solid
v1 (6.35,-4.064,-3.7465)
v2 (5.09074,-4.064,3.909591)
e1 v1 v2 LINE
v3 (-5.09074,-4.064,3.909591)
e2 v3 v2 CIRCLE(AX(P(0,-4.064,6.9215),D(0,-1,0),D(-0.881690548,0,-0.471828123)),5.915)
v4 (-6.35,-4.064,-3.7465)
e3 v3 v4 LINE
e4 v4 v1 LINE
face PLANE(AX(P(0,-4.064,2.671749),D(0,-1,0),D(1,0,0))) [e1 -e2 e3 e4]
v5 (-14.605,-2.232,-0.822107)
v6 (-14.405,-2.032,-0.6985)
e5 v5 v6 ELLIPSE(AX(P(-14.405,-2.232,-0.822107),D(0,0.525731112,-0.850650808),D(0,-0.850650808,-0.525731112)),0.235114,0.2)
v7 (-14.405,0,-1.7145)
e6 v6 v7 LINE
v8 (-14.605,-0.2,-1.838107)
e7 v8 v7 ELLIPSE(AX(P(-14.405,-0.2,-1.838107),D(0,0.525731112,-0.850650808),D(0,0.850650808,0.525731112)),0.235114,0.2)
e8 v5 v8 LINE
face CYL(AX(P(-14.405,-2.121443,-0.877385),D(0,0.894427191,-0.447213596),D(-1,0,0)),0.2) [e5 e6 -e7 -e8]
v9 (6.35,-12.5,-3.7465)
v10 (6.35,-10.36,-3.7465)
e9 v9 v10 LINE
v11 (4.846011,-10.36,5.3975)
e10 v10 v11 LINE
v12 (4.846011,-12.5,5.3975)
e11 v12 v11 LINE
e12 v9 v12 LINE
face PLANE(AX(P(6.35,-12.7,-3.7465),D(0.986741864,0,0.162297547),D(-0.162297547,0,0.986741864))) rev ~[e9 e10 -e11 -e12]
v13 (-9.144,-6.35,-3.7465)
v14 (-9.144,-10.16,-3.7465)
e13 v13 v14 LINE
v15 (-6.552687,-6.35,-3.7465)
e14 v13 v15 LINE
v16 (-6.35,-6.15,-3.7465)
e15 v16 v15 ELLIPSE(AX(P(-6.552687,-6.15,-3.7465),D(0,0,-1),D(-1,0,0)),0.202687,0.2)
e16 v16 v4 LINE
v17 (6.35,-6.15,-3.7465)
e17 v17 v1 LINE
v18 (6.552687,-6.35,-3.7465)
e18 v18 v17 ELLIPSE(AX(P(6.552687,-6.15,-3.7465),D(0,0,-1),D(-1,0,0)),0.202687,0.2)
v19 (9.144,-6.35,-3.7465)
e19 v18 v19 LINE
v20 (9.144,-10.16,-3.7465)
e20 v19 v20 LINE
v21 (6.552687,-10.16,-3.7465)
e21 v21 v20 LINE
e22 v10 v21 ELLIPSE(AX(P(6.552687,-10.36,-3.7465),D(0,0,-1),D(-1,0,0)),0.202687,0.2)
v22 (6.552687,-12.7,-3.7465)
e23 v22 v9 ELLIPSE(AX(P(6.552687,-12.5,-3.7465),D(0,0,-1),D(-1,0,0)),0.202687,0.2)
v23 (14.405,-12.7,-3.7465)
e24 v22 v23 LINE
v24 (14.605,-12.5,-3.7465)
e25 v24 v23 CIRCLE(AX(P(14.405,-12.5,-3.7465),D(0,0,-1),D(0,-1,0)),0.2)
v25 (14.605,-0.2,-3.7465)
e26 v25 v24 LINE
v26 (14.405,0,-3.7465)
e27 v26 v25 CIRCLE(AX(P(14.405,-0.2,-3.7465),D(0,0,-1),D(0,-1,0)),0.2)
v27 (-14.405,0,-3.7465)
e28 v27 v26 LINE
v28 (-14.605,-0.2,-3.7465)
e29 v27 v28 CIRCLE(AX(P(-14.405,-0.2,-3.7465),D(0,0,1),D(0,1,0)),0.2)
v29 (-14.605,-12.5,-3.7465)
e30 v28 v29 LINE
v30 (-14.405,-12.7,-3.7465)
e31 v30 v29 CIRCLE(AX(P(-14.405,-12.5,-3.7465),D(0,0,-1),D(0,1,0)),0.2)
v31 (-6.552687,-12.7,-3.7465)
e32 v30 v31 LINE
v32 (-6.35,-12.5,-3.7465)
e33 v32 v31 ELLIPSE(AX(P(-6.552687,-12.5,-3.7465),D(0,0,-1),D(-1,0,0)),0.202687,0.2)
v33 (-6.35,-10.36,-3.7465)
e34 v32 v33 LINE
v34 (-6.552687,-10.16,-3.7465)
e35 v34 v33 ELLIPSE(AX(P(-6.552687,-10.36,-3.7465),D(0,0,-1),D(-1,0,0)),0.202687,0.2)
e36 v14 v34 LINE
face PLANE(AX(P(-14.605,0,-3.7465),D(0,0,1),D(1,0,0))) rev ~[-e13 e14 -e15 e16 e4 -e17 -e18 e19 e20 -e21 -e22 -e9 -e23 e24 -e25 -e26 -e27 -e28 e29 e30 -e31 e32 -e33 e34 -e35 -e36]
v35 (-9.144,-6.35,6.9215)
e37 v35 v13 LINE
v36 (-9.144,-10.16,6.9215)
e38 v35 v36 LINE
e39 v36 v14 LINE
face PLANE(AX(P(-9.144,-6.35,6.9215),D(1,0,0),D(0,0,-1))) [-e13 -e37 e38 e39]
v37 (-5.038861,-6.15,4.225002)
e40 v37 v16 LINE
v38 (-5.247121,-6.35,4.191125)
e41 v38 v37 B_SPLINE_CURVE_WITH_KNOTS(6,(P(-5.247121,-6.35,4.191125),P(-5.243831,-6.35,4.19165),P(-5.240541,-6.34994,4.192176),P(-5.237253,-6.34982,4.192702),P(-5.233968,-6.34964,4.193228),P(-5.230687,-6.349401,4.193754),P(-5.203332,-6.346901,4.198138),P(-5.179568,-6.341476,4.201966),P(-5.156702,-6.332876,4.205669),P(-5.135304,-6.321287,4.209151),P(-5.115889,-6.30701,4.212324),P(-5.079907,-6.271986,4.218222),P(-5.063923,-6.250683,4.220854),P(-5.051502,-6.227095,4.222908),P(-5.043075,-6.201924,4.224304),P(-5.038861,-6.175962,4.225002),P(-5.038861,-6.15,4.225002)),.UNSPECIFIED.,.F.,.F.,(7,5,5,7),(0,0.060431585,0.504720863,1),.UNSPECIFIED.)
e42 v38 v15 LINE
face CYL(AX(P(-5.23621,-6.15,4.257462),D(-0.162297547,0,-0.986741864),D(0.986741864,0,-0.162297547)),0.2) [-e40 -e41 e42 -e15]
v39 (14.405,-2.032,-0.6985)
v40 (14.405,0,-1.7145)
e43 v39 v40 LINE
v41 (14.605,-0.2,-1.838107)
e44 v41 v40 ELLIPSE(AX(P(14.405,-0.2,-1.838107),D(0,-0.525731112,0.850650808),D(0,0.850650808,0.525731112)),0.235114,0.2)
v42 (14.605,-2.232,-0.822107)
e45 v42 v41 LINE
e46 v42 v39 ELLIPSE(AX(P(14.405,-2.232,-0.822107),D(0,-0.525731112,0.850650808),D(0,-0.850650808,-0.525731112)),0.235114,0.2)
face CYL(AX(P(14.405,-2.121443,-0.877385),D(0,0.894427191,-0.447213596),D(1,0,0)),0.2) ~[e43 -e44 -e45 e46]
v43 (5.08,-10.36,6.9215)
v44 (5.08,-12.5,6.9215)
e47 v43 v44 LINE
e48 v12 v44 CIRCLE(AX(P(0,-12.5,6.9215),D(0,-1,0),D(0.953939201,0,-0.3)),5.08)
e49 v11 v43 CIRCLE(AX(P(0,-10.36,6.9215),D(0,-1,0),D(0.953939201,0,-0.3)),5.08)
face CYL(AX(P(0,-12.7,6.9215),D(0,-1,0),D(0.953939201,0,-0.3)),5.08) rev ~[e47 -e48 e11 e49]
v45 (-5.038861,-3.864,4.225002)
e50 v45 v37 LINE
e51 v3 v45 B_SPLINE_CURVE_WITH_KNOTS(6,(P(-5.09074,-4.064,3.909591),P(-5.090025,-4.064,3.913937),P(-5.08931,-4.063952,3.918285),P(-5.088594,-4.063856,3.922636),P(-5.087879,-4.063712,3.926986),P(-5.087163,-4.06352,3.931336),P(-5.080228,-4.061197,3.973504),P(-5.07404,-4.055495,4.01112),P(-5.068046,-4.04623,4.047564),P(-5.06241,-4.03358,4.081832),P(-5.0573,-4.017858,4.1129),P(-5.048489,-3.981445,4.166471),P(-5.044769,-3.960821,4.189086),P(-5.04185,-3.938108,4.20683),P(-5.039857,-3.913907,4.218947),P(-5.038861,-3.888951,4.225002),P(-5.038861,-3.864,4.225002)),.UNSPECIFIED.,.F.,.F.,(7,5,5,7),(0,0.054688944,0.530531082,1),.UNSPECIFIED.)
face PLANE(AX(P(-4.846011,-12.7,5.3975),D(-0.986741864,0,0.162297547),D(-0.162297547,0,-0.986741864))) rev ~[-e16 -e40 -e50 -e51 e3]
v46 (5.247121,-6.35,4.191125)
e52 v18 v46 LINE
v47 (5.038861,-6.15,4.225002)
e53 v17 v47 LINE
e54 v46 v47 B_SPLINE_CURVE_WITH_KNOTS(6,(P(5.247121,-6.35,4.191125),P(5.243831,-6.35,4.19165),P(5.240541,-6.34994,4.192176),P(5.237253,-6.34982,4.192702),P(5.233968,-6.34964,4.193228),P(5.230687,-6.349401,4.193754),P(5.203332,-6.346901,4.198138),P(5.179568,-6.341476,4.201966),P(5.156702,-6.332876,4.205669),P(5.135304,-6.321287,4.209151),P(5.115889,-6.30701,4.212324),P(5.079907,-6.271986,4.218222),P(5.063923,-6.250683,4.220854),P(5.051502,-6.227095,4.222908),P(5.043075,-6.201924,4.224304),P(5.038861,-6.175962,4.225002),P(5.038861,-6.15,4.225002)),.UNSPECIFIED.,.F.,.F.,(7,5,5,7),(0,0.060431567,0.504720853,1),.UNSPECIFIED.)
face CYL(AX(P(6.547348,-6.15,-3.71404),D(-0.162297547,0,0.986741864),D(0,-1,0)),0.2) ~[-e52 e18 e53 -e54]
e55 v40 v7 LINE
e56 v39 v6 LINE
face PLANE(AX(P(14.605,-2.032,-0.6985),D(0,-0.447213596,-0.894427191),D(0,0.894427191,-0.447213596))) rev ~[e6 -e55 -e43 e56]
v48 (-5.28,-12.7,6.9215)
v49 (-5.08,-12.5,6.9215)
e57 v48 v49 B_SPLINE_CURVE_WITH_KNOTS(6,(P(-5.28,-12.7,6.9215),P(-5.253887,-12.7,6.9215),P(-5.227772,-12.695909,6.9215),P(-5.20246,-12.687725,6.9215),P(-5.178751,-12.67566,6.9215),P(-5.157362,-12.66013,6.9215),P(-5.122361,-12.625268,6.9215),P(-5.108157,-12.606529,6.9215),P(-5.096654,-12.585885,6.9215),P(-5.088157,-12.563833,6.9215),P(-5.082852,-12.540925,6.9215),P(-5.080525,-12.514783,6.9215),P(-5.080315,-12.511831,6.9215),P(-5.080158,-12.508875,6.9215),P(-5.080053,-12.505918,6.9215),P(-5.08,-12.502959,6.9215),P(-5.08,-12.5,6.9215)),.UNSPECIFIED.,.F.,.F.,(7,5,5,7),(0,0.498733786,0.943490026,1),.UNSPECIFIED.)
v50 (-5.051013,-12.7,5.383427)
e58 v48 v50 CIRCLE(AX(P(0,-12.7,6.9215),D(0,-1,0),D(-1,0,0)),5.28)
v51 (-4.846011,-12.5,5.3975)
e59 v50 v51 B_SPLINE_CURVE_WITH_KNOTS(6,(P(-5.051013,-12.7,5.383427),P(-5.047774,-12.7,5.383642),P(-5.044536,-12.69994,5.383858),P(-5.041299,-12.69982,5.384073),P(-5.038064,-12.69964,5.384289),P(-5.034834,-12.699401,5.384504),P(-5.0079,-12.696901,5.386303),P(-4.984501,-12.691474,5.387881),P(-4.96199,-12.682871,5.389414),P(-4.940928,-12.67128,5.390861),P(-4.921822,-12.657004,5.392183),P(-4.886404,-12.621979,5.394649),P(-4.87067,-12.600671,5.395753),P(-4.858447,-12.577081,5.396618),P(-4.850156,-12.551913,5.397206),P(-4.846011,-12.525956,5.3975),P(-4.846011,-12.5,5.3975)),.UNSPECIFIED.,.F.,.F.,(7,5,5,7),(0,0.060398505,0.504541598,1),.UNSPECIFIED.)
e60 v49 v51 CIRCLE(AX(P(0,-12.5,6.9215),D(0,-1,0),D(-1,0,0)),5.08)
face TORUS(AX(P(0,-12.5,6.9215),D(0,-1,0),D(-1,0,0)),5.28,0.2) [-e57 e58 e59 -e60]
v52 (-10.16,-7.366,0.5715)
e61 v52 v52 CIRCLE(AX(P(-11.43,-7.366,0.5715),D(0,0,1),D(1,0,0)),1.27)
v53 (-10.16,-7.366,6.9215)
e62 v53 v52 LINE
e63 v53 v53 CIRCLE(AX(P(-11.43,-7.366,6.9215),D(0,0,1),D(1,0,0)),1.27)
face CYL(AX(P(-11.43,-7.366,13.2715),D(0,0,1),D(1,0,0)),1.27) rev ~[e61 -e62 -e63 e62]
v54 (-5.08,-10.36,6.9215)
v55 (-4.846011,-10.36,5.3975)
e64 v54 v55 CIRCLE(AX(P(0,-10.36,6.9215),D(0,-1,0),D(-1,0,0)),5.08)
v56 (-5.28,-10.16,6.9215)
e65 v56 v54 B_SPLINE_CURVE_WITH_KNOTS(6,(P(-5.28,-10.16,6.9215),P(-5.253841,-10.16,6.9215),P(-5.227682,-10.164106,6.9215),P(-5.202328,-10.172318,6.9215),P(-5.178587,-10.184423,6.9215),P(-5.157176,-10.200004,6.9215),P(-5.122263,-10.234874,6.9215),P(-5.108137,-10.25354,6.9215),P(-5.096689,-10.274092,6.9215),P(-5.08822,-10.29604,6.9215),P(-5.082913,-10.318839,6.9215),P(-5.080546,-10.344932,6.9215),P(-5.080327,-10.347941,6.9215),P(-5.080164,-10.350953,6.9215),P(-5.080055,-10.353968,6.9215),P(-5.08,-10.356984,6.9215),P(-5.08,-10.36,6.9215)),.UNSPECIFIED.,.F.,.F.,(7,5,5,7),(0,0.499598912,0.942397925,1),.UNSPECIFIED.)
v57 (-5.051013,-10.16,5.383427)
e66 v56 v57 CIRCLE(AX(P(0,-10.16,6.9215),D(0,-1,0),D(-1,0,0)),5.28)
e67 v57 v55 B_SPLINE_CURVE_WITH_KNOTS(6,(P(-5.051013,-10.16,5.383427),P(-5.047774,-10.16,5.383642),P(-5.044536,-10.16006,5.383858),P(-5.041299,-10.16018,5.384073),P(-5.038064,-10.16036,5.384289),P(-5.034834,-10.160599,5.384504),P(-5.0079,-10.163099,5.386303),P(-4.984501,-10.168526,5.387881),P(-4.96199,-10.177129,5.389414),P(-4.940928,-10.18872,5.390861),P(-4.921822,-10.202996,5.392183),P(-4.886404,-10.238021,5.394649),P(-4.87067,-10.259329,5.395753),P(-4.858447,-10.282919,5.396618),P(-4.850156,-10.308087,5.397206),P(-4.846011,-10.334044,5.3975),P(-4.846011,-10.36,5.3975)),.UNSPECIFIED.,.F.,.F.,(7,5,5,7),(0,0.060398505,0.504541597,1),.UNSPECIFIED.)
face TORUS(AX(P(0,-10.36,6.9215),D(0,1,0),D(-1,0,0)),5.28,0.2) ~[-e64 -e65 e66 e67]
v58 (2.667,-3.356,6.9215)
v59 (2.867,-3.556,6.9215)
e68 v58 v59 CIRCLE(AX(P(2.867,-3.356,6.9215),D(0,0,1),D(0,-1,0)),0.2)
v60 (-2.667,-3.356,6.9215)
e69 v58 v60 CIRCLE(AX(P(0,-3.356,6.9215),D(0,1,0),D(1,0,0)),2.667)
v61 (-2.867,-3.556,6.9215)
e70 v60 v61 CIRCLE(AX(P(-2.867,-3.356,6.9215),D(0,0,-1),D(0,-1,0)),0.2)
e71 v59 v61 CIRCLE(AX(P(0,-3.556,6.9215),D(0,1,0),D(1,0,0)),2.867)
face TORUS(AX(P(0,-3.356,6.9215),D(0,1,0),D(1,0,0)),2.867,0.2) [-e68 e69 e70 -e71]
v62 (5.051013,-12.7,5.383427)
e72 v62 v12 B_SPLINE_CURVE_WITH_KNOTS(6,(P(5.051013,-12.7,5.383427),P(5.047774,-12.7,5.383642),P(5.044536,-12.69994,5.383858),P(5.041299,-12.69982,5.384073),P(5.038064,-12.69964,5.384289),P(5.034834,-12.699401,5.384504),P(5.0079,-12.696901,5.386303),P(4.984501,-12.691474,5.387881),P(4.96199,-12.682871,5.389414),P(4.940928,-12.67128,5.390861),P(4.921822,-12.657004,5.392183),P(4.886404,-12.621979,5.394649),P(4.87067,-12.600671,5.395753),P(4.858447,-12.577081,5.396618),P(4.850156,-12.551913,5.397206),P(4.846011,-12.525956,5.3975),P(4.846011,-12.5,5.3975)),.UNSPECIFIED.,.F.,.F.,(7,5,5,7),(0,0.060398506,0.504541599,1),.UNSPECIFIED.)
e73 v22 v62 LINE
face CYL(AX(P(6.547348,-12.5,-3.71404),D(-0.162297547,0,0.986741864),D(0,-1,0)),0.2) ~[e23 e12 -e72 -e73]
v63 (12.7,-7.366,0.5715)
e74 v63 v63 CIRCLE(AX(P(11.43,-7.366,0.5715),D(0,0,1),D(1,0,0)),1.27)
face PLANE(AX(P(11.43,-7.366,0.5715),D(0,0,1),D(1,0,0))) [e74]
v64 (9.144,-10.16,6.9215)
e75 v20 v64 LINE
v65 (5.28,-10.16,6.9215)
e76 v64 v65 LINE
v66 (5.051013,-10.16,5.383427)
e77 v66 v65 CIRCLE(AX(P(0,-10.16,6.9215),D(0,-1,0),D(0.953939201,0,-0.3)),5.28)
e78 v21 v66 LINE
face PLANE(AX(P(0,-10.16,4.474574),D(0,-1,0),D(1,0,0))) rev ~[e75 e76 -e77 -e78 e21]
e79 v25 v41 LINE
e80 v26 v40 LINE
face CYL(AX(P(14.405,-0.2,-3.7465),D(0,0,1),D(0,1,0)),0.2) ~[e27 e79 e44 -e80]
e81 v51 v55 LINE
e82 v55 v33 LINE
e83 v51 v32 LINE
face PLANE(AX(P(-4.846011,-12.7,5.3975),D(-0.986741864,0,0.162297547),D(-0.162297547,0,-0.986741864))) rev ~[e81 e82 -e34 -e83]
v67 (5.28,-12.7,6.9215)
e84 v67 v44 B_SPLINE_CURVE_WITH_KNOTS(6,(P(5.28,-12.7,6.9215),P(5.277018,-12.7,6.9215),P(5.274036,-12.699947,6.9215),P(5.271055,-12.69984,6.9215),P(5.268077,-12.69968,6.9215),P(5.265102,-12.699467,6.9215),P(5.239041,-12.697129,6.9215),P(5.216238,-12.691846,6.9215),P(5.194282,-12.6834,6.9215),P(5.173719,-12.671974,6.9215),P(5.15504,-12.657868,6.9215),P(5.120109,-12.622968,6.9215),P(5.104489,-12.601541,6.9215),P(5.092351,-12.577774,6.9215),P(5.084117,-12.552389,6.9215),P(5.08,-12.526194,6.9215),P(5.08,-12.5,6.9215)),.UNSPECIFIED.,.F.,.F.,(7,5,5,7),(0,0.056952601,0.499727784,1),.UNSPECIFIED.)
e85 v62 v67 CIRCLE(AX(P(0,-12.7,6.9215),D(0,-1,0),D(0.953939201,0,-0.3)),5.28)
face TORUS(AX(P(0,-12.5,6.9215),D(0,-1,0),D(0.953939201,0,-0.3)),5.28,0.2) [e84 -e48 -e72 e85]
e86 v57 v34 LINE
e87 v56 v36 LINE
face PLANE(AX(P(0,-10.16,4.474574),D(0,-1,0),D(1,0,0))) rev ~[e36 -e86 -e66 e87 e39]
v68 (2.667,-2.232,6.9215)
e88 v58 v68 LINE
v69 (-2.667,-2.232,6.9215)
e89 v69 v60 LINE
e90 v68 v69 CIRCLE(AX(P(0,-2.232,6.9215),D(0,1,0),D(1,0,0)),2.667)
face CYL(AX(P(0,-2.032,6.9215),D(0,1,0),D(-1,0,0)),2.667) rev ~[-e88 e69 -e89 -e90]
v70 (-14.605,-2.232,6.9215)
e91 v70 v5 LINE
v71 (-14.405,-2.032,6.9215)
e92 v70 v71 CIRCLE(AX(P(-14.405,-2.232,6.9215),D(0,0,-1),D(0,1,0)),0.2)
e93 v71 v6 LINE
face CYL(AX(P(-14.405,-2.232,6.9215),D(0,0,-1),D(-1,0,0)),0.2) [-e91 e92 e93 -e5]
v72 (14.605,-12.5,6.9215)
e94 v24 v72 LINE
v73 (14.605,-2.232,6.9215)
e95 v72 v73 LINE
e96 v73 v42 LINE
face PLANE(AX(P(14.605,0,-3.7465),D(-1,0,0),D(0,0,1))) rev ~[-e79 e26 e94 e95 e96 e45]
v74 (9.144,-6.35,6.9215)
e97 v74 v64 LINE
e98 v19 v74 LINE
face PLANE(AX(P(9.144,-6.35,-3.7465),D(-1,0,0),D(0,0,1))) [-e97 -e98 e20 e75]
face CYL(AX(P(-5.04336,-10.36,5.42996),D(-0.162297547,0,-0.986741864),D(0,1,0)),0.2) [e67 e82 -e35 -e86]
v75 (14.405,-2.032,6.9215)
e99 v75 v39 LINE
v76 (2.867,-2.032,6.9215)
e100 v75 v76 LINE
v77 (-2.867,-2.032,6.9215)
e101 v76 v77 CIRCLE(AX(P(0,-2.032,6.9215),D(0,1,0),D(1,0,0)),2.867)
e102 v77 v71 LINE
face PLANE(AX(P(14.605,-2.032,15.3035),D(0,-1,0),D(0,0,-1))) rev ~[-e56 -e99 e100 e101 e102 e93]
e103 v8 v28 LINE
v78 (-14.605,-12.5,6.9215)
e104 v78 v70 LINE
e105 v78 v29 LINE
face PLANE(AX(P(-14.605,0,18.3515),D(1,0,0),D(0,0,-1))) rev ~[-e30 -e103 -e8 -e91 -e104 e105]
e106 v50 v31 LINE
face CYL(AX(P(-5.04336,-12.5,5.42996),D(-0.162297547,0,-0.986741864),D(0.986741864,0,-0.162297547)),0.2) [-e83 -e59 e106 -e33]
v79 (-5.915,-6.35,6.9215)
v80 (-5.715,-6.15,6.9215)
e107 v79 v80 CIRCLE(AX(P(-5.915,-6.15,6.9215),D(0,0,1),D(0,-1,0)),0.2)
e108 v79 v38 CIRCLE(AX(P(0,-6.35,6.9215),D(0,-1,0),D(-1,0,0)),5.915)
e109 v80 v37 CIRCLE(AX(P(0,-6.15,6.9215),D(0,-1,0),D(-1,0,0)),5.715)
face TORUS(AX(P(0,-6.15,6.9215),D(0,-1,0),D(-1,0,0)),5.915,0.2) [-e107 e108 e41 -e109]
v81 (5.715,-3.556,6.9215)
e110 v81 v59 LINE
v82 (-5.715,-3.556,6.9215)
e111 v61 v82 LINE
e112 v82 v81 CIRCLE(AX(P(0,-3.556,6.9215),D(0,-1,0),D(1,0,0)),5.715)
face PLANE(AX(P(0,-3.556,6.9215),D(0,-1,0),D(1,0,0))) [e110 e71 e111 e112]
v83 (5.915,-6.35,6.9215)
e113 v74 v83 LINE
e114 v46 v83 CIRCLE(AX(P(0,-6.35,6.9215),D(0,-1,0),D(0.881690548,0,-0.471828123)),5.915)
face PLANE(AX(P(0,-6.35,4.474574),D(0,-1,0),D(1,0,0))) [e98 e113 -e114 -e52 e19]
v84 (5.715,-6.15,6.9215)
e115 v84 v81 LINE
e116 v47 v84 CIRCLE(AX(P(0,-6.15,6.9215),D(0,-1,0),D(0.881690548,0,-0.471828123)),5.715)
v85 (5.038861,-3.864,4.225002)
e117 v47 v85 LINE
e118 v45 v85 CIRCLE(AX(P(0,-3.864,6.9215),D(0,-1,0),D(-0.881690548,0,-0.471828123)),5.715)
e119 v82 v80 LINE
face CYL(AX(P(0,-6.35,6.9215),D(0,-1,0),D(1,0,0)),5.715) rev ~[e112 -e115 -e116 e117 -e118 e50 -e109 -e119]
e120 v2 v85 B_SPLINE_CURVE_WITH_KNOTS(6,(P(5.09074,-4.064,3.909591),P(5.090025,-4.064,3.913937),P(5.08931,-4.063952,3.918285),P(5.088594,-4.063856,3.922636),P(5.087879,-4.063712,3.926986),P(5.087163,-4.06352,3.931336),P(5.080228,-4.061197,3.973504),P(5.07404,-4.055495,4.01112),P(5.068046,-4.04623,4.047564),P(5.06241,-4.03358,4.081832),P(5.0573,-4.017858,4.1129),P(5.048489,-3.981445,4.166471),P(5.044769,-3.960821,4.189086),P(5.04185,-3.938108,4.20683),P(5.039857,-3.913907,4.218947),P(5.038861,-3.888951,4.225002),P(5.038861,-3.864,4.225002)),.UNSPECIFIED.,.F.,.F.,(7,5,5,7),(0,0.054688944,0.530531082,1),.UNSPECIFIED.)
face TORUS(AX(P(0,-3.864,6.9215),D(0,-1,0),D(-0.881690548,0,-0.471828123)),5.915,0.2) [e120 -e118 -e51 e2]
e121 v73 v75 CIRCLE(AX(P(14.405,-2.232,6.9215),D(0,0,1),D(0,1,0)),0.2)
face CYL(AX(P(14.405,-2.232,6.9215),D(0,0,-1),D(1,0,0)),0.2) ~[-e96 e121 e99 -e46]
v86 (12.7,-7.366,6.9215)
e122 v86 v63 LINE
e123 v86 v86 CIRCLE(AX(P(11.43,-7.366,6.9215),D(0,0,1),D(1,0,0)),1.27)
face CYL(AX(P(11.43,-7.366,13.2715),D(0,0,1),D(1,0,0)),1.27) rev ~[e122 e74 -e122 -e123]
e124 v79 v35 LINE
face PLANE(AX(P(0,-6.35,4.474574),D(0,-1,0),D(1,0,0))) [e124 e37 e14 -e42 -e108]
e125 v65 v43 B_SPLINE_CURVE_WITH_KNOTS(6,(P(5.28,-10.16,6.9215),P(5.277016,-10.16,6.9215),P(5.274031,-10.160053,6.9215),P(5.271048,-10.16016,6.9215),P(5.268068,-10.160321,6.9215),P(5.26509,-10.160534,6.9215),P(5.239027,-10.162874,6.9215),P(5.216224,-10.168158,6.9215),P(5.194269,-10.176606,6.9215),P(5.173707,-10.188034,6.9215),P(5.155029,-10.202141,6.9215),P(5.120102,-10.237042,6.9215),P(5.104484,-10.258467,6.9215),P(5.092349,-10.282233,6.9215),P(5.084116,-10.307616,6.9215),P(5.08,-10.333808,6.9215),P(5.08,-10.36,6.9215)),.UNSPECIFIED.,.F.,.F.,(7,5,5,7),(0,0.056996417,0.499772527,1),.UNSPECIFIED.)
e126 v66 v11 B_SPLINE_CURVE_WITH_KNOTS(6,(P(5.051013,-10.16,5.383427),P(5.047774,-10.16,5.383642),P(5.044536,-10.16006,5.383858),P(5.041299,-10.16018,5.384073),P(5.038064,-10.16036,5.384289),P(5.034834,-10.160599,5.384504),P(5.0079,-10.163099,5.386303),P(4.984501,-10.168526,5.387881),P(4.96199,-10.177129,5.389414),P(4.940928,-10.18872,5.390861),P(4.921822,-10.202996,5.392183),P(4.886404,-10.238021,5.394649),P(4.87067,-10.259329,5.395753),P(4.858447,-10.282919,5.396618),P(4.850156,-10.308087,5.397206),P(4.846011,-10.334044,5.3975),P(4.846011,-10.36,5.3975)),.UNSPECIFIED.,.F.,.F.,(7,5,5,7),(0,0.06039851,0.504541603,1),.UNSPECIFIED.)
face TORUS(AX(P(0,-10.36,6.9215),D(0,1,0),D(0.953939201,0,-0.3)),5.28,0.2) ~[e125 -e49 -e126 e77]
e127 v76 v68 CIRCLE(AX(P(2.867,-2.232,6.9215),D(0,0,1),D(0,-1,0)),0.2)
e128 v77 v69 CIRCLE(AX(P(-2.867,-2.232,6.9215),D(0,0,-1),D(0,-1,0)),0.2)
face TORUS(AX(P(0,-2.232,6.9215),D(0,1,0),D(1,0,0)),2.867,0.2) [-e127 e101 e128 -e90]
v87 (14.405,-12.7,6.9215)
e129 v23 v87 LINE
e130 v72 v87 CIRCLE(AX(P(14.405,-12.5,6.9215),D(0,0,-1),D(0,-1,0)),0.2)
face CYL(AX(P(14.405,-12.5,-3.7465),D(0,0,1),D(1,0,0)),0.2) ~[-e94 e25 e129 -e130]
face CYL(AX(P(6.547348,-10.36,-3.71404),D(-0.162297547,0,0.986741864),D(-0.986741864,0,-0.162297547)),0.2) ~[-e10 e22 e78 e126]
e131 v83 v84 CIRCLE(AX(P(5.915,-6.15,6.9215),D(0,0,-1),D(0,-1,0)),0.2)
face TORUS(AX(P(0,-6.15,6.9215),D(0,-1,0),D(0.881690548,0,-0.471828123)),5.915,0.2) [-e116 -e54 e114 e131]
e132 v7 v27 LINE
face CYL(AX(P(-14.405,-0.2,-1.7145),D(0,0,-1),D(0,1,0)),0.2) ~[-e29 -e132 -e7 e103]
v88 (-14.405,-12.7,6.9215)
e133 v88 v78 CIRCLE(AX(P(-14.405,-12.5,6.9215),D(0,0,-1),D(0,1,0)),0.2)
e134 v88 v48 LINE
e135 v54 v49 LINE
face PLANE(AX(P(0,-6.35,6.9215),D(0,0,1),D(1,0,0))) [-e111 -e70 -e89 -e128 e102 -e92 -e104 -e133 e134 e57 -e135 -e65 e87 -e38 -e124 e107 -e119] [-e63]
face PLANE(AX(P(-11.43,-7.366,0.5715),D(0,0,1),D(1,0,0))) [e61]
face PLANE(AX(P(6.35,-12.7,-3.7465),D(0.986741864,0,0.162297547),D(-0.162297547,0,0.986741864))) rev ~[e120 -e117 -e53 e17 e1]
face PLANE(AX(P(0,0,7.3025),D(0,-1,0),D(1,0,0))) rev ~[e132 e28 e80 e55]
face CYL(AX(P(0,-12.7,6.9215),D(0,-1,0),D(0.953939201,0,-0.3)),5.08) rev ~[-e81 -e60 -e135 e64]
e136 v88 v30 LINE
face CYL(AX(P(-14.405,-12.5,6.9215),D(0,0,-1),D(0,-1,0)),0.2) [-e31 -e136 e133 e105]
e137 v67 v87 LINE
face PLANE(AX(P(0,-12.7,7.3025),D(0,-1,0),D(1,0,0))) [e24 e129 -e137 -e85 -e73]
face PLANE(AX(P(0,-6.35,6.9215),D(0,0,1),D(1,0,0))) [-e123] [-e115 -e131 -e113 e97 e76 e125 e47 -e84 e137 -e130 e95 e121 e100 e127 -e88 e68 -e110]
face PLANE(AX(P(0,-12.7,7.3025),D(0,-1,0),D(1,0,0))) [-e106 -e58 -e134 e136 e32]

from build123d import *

# Parameters (mm, degrees)
F1_DEPTH  = 12.7
F4_DEPTH  = 3.81
F6_DEPTH  = 8.636
F8_DEPTH  = 29.211
F9_R      = 2.667
F10_DEPTH = 4.318
F12_DEPTH = 5.08
F13_R     = 1.27
F14_DEPTH = 12.7
F15_R     = 5.715
F16_DEPTH = 2.794
F17_W     = 29.21
F17_H     = 12.7
F18_DEPTH = 11.43
F19_R     = 0.2


with BuildPart() as f1:
    # F0 (on Front) → F1 (new body)
    with BuildSketch(Plane.XZ):
        Polygon((-14.605, -3.7465), (14.605, -3.7465), (14.605, 3.7465), (14.605, 18.3515), (-14.605, 18.3515), (-14.605, 3.7465), align=None)
    extrude(amount=F1_DEPTH)

    # F3 (on offset) → F4 (cut)
    with BuildSketch(Plane.XZ.offset(6.35)):
        with BuildLine():
            Line((-9.144, -3.7465), (9.144, -3.7465))
            Line((9.144, -3.7465), (9.144, 6.9215))
            ThreePointArc((9.144, 6.9215), (0, 16.0655), (-9.144, 6.9215))
            Line((-9.144, 6.9215), (-9.144, -3.7465))
        make_face()
    extrude(amount=F4_DEPTH, mode=Mode.SUBTRACT)

    # F5 (on face) → F6 (cut)
    with BuildSketch(Plane.XZ.offset(12.7)):
        with BuildLine():
            Line((6.35, -3.7465), (4.8460111432, 5.3975))
            ThreePointArc((4.8460111432, 5.3975), (0, 12.0015), (-4.8460111432, 5.3975))
            Line((-4.8460111432, 5.3975), (-6.35, -3.7465))
            Line((-6.35, -3.7465), (6.35, -3.7465))
        make_face()
    extrude(amount=-F6_DEPTH, mode=Mode.SUBTRACT)

    # F7 (on face) → F8 (cut, through all)
    with BuildSketch(Plane.YZ.offset(14.605)):
        Polygon((-2.032, -0.6985), (0, -1.7145), (0, 16.3195), (-2.032, 15.3035), align=None)
    extrude(amount=-F8_DEPTH, mode=Mode.SUBTRACT)

    # F9 (on face) → F10 (cut, through all)
    with BuildSketch(Plane(origin=(0, -2.032, 0), x_dir=(-1, 0, 0), z_dir=(0, 1, 0))):
        with Locations((0, 6.9215)):
            Circle(F9_R)
    extrude(amount=-F10_DEPTH, mode=Mode.SUBTRACT)

    # F11 (on face) → F12 (cut)
    with BuildSketch(Plane.XY.offset(18.3515)):
        with BuildLine():
            Line((14.605, -4.191), (11.43, -4.191))
            ThreePointArc((11.43, -4.191), (8.255, -7.366), (11.43, -10.541))
            Line((11.43, -10.541), (14.605, -10.541))
            Line((14.605, -10.541), (14.605, -4.191))
        make_face()
        with BuildLine():
            ThreePointArc((-11.43, -10.541), (-8.255, -7.366), (-11.43, -4.191))
            Line((-11.43, -4.191), (-14.605, -4.191))
            Line((-14.605, -4.191), (-14.605, -10.541))
            Line((-14.605, -10.541), (-11.43, -10.541))
        make_face()
    extrude(amount=-F12_DEPTH, mode=Mode.SUBTRACT)

    # F13 (on face) → F14 (cut)
    with BuildSketch(Plane.XY.offset(13.2715)):
        with Locations((11.43, -7.366)):
            Circle(F13_R)
        with Locations((-11.43, -7.366)):
            Circle(F13_R)
    extrude(amount=-F14_DEPTH, mode=Mode.SUBTRACT)

    # F15 (on face) → F16 (cut)
    with BuildSketch(Plane.XZ.offset(6.35)):
        with Locations((0, 6.9215)):
            Circle(F15_R)
    extrude(amount=-F16_DEPTH, mode=Mode.SUBTRACT)

    # F17 (on face) → F18 (cut)
    with BuildSketch(Plane.XY.offset(18.3515)):
        with Locations((0, -6.35)):
            Rectangle(F17_W, F17_H)
    extrude(amount=-F18_DEPTH, mode=Mode.SUBTRACT)

    # F19
    f19_edges = [f1.edges().sort_by_distance(p)[0] for p in [
        (14.605, -12.7, 1.5875),
        (5.021162, -12.7, 6.150571),
        (5.598006, -12.7, 0.8255),
        (5.021162, -10.16, 6.150571),
        (5.598006, -10.16, 0.8255),
        (5.543389, -6.35, 5.531512),
        (5.694431, -6.35, 0.239251),
        (-5.021162, -12.7, 6.150571),
        (-5.021162, -10.16, 6.150571),
        (-5.598006, -10.16, 0.8255),
        (-5.598006, -12.7, 0.8255),
        (-5.543389, -6.35, 5.531512),
        (-5.694431, -6.35, 0.239251),
        (0, -4.064, 1.2065),
        (0, -3.556, 4.2545),
        (0, -2.032, 4.2545),
        (14.605, -2.032, 3.1115),
        (-14.605, -2.032, 3.1115),
        (-14.605, -1.016, -1.2065),
        (-14.605, 0, -2.7305),
        (14.605, -1.016, -1.2065),
        (14.605, 0, -2.7305),
        (-14.605, -12.7, 1.5875),
    ]]
    fillet(f19_edges, radius=F19_R)


solid = f1.part
